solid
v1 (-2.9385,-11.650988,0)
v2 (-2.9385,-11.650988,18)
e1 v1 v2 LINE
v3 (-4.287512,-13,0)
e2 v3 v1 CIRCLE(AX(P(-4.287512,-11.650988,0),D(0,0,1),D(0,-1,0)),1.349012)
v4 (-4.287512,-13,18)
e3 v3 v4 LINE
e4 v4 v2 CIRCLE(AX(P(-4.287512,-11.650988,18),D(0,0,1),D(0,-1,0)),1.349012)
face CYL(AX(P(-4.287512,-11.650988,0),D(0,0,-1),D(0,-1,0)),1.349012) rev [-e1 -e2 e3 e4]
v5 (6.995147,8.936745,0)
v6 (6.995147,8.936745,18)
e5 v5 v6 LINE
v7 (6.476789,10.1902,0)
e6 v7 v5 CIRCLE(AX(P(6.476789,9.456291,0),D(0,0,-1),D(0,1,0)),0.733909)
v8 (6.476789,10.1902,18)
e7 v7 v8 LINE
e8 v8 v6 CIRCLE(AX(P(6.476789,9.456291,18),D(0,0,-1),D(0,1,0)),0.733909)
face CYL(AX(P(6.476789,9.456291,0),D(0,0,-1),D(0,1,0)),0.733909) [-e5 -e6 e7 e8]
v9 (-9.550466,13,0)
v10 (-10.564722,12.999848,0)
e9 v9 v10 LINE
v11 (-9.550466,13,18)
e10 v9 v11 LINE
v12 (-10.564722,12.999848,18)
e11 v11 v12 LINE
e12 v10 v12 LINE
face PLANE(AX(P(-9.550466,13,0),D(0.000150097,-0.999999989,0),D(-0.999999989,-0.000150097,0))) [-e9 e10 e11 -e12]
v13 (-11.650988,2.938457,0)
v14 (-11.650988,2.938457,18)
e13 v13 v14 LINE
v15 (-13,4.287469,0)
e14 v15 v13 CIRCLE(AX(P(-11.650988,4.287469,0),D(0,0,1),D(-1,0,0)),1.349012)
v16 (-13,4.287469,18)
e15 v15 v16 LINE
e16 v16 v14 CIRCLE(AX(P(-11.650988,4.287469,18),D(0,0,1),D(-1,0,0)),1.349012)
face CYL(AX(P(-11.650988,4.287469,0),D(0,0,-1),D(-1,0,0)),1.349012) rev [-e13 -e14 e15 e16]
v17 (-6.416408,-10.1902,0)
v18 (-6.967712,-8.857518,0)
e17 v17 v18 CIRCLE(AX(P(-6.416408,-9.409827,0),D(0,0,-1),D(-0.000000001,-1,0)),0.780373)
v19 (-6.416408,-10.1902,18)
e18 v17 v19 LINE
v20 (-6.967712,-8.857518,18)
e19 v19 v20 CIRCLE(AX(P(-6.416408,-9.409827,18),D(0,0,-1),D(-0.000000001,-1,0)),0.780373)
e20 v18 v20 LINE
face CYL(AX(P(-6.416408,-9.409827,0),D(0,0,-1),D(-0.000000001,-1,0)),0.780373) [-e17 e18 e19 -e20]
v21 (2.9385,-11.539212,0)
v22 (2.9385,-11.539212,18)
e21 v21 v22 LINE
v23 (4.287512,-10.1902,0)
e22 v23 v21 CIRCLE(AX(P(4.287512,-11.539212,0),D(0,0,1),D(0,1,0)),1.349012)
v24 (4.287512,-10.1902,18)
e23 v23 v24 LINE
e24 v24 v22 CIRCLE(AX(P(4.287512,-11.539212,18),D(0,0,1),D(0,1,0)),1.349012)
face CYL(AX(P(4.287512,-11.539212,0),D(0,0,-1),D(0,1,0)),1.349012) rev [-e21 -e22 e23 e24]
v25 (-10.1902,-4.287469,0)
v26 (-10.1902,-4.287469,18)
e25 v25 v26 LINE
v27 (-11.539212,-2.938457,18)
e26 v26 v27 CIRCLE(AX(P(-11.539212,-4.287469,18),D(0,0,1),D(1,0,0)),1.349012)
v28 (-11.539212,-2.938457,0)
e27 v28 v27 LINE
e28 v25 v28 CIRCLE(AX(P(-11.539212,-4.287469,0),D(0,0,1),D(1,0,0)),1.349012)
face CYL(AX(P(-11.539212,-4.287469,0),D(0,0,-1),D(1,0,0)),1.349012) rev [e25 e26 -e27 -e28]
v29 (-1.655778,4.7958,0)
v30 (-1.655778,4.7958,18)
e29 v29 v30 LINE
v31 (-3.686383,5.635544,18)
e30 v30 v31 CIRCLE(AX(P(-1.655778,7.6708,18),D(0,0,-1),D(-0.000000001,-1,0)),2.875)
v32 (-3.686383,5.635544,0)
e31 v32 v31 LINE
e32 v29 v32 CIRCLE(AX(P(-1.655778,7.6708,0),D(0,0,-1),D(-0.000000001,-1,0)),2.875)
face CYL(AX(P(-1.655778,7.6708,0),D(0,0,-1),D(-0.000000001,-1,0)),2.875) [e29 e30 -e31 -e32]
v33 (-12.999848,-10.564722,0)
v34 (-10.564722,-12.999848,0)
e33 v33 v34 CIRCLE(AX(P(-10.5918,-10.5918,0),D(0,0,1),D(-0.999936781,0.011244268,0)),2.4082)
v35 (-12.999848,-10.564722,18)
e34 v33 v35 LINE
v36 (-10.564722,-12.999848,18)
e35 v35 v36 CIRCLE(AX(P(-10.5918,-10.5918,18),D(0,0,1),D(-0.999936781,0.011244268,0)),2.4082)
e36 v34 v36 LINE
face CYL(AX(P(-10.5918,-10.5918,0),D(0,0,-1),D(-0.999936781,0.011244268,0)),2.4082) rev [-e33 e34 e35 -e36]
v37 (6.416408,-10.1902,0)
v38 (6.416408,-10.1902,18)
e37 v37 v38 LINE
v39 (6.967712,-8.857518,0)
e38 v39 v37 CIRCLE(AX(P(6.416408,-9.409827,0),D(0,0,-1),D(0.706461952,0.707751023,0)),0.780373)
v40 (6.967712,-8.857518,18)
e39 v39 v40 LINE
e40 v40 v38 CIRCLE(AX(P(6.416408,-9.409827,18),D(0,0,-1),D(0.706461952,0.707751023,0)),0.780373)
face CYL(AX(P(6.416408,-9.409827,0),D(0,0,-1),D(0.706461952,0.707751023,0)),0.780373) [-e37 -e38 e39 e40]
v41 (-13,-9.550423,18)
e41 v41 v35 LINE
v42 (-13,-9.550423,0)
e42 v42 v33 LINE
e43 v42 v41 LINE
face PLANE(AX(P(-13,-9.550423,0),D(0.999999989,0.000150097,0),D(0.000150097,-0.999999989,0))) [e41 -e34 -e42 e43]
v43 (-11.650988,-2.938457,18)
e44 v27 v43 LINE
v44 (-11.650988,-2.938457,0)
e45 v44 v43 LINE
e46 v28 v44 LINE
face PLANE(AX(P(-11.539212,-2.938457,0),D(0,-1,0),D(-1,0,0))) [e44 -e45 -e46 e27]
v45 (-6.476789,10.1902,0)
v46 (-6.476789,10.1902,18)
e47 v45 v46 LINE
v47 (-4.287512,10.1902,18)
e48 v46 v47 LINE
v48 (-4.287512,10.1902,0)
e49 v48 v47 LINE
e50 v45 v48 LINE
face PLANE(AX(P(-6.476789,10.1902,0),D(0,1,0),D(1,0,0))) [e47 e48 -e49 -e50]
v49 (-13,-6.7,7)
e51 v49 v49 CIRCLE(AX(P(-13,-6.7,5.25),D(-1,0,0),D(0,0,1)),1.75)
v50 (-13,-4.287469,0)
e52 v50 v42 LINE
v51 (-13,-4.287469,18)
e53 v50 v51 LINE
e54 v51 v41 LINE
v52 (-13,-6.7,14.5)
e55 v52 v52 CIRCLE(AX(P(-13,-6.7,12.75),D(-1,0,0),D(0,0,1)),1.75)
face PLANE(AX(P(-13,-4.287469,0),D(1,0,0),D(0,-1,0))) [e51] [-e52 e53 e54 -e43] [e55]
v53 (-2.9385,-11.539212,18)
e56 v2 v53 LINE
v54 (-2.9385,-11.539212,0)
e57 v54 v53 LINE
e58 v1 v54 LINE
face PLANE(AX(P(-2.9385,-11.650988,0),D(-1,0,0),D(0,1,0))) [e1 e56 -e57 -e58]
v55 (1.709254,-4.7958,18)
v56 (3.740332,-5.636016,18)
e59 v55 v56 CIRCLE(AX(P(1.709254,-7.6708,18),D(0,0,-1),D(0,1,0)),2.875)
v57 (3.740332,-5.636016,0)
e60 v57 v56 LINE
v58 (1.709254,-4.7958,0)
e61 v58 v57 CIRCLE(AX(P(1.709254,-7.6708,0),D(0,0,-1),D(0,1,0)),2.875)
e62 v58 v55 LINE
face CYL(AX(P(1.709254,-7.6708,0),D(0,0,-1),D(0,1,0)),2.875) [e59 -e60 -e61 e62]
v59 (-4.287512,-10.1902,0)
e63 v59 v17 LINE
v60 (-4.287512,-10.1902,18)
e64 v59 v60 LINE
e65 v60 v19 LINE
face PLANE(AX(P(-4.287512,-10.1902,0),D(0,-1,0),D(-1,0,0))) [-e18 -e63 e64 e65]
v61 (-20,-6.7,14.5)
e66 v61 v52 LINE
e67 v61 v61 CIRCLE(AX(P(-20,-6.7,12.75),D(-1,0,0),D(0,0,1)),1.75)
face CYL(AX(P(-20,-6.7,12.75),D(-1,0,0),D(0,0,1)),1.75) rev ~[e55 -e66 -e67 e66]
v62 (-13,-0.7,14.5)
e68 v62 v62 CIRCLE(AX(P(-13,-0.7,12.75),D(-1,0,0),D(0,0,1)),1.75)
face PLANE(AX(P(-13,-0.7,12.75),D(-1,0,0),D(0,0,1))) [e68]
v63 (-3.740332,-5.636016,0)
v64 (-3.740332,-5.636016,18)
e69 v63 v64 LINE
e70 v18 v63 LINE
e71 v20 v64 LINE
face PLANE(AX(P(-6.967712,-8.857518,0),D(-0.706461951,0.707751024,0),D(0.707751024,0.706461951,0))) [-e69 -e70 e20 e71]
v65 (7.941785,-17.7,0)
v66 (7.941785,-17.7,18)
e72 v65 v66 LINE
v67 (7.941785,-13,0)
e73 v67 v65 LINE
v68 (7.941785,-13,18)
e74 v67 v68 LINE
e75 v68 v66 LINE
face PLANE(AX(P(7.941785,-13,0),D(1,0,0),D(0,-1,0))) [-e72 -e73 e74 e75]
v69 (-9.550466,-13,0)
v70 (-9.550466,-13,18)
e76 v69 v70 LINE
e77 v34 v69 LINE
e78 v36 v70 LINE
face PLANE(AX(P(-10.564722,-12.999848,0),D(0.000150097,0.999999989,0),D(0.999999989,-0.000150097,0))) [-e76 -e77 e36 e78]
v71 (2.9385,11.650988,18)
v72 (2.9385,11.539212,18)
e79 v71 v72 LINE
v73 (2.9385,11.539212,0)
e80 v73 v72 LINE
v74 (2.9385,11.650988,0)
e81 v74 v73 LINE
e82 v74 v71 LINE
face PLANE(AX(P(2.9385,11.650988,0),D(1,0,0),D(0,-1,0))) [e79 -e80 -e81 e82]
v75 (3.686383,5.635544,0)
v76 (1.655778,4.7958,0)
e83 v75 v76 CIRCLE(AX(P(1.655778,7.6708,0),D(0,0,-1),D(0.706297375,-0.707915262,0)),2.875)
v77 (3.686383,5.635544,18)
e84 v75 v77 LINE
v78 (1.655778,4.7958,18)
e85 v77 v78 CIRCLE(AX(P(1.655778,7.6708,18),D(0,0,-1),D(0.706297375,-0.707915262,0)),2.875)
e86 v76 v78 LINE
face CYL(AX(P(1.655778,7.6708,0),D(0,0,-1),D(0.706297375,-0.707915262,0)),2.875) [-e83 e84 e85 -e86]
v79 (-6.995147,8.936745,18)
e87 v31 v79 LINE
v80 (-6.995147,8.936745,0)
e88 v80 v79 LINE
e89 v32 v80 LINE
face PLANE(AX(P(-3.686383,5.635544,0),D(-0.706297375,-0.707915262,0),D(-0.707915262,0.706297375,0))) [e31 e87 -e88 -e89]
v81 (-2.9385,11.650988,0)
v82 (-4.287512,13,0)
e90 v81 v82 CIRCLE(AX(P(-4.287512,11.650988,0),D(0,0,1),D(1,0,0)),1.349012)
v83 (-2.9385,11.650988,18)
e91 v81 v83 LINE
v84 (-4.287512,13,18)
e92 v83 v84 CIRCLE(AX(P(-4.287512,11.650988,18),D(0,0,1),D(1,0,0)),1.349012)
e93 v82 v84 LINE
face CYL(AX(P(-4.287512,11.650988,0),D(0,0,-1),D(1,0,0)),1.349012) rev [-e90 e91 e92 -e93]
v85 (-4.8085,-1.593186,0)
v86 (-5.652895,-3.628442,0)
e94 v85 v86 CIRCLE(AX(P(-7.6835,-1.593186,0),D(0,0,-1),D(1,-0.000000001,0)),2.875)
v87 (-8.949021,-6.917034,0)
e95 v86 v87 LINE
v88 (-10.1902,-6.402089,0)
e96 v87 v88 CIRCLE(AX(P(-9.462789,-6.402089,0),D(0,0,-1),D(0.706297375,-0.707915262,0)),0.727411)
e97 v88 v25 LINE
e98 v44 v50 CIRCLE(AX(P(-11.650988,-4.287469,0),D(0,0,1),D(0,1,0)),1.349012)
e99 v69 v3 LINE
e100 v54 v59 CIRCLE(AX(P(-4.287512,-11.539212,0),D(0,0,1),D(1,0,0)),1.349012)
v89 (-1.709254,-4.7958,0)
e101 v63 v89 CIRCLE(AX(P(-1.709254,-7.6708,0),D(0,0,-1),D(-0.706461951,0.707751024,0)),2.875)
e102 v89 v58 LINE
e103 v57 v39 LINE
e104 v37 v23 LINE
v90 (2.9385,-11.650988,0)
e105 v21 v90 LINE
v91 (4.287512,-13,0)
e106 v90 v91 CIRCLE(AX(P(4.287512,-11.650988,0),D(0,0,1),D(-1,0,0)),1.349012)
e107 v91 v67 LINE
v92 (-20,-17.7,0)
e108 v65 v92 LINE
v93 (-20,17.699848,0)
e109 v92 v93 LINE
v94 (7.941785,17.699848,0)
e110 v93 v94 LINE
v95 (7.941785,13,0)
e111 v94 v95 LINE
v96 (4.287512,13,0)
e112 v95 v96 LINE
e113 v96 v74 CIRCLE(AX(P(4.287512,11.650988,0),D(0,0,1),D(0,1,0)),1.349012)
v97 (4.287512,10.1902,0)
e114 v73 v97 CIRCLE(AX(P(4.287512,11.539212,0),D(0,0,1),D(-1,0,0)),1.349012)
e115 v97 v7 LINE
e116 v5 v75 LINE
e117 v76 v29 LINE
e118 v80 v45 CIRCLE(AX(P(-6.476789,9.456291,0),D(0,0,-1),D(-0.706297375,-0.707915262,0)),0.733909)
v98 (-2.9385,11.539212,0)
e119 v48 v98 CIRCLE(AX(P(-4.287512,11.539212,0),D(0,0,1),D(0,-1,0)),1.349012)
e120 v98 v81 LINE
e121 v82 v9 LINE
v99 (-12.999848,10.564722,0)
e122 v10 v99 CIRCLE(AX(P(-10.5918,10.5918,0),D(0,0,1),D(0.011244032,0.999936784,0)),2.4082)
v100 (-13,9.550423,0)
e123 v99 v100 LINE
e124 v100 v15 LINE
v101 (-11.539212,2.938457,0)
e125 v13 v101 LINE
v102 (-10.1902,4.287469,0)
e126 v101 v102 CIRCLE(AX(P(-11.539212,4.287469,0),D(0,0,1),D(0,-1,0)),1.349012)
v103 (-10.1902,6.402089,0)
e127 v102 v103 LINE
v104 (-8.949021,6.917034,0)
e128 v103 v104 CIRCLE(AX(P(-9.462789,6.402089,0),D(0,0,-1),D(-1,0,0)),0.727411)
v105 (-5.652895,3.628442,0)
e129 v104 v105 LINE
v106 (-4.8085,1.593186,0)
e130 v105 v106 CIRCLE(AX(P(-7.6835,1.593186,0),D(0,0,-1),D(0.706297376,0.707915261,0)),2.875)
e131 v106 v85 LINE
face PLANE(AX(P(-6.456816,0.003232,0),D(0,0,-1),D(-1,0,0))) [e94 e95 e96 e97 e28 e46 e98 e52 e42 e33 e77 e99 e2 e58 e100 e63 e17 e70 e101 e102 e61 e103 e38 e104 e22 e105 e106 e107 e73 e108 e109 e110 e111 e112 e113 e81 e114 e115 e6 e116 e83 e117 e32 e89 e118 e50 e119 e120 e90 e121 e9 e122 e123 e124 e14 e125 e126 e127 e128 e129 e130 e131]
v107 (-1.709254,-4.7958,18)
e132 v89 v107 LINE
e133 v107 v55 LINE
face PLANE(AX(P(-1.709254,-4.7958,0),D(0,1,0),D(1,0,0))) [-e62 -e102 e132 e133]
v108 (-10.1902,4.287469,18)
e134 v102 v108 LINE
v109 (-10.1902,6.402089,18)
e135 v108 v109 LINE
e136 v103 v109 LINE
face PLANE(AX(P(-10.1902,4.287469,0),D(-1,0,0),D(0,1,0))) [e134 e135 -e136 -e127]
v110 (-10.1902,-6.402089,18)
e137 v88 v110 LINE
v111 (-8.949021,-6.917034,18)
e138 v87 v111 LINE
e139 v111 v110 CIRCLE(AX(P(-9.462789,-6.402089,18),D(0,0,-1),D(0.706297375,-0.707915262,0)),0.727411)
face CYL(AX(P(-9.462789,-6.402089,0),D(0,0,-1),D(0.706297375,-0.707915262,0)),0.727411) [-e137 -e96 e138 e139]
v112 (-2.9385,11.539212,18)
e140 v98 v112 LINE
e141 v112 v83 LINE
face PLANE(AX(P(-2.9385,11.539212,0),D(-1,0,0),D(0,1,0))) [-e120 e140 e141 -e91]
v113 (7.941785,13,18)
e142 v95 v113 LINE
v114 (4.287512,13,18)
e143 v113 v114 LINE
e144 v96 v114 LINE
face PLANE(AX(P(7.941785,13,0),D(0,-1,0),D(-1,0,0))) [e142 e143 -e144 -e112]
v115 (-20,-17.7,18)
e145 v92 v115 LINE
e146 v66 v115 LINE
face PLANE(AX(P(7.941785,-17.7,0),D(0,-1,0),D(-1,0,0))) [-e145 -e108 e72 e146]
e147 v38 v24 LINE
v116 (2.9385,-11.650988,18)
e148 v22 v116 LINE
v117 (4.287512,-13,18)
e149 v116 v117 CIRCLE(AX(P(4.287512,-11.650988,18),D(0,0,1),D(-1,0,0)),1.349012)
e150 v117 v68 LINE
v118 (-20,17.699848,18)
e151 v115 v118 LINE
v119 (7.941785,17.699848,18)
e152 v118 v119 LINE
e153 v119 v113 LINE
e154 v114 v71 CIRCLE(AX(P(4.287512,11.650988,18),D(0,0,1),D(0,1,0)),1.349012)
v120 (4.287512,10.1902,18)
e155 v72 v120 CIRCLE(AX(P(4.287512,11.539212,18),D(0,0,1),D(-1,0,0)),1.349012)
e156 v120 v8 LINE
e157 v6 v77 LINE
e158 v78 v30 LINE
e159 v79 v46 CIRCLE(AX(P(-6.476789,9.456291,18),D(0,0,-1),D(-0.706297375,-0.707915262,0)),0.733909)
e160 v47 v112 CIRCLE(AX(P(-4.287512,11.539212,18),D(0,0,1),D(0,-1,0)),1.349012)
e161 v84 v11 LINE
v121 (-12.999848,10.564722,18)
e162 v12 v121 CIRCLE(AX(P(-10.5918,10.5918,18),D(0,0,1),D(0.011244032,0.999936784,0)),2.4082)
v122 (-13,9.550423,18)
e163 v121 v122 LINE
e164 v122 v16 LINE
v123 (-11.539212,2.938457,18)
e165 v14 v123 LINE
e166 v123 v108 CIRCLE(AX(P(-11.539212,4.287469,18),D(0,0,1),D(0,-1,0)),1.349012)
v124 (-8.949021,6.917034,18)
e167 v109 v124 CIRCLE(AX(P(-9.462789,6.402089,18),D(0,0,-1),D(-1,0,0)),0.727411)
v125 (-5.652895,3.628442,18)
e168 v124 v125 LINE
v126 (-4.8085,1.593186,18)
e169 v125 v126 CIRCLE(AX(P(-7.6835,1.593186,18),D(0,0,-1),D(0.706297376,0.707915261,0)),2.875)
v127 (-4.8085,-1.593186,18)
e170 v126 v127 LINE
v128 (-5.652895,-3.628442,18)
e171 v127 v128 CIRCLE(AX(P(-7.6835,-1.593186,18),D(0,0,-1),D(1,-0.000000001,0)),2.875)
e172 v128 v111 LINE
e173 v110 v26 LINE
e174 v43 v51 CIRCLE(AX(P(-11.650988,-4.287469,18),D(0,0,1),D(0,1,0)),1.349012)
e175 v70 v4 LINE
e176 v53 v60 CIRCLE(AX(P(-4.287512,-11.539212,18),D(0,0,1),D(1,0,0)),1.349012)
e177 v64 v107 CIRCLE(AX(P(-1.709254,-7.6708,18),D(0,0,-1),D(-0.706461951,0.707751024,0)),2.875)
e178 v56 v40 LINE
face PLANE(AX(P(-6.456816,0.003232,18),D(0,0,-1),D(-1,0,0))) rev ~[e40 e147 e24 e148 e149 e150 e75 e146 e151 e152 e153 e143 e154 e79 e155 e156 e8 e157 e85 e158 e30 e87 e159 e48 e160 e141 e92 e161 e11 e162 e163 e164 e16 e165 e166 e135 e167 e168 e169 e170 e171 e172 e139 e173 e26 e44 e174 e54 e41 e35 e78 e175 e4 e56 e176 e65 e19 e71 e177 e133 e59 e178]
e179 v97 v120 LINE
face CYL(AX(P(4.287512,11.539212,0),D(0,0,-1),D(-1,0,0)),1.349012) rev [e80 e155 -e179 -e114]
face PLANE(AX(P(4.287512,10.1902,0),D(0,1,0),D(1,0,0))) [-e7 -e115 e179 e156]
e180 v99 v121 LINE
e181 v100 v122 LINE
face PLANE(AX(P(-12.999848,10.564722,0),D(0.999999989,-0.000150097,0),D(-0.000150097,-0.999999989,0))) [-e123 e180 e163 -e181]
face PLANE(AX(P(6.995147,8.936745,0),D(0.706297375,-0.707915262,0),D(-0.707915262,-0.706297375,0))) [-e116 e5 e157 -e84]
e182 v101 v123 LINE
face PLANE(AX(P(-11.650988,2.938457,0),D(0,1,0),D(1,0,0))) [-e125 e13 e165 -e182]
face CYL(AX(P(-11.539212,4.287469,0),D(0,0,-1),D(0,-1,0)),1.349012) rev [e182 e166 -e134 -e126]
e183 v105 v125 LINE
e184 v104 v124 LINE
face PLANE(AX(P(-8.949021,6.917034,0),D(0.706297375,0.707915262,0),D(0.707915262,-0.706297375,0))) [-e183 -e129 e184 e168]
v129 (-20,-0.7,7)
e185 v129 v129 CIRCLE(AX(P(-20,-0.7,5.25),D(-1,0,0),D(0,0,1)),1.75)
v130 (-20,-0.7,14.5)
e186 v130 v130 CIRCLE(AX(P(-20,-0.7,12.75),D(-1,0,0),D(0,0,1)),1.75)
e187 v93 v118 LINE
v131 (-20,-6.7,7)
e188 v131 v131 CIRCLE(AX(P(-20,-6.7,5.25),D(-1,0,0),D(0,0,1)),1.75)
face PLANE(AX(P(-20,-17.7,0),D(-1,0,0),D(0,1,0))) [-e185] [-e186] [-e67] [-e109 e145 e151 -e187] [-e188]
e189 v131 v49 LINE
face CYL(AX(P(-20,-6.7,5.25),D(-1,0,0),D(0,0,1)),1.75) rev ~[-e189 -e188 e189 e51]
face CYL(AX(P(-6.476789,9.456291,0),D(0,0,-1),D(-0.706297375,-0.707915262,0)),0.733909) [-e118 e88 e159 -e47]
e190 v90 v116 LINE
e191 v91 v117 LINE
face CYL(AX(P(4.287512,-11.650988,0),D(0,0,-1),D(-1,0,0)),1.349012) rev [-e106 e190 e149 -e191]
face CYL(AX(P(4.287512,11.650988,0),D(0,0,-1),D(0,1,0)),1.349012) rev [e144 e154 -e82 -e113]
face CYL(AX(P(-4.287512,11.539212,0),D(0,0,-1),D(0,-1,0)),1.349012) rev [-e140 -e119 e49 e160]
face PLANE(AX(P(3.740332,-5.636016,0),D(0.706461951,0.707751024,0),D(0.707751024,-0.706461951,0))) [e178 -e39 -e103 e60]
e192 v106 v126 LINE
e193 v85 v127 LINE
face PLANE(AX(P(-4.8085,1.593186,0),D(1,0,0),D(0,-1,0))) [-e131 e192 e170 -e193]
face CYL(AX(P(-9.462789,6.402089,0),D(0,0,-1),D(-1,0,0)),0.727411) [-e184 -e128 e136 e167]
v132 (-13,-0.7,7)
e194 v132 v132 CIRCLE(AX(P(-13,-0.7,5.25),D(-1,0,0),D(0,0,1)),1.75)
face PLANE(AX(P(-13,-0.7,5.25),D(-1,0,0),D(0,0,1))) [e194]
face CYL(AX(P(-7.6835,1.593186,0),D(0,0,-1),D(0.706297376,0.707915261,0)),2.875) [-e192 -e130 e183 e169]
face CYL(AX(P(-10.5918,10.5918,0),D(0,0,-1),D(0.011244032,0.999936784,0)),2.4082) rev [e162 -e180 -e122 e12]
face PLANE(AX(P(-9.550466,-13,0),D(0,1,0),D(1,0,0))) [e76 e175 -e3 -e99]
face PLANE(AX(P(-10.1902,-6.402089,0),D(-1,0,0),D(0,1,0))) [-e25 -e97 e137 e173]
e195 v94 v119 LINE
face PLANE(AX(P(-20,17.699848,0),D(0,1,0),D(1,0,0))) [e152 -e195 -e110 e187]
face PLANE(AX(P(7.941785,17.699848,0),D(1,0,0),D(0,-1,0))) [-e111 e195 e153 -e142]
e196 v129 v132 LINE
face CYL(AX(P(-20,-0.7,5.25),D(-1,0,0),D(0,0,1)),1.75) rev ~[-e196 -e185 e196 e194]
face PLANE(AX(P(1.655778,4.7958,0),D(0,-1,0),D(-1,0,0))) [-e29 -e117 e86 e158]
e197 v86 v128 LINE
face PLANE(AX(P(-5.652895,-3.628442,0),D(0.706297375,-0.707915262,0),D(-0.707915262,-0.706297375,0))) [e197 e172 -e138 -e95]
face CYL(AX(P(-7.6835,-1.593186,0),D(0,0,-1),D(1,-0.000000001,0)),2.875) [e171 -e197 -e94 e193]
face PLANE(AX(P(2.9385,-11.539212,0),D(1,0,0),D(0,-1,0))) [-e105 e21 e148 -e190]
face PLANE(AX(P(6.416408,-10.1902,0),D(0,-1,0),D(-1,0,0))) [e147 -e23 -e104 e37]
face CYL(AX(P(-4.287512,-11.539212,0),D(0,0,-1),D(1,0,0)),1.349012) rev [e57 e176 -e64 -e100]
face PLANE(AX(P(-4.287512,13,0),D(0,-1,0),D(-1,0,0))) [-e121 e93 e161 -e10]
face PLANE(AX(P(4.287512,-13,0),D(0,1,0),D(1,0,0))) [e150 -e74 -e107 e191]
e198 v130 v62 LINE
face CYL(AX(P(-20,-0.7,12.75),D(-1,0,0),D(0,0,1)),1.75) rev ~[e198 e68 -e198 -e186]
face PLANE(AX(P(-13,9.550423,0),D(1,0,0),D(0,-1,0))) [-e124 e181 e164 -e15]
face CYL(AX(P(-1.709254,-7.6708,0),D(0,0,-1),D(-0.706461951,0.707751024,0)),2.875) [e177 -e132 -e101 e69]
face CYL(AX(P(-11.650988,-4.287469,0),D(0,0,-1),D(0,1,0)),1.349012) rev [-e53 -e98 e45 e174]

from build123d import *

# Parameters (mm, degrees)
BOSS_EXTRUDE1_DEPTH = 18
SKETCH2_R           = 1.75
CUT_EXTRUDE1_DEPTH  = 7


with BuildPart() as part:
    # Sketch1 → Boss-Extrude1 (new body)
    with BuildSketch(Plane.XY):
        with BuildLine():
            Line((7.941784918, -13), (7.941784918, -17.7))
            Line((7.941784918, -17.7), (-20, -17.7))
            Line((-20, -17.7), (-20, 17.699847501))
            Line((-20, 17.699847501), (7.941784918, 17.699847501))
            Line((7.941784918, 17.699847501), (7.941784918, 13))
            Line((7.941784918, 13), (6.333126718, 13))
            Line((6.333126718, 13), (5.317126718, 13))
            Line((5.317126718, 13), (4.287512407, 13))
            ThreePointArc((4.287512407, 13), (3.333616586, 12.604883414), (2.9385, 11.650987593))
            Line((2.9385, 11.650987593), (2.9385, 11.539212407))
            ThreePointArc((2.9385, 11.539212407), (3.333616586, 10.585316586), (4.287512407, 10.1902))
            Line((4.287512407, 10.1902), (6.476788598, 10.1902))
            ThreePointArc((6.476788598, 10.1902), (7.154992901, 9.736757749), (6.995146796, 8.93674514))
            Line((6.995146796, 8.93674514), (3.686383353, 5.635543623))
            ThreePointArc((3.686383353, 5.635543623), (2.754473742, 5.014017446), (1.655778399, 4.7958))
            Line((1.655778399, 4.7958), (-1.655778399, 4.7958))
            ThreePointArc((-1.655778399, 4.7958), (-2.754473742, 5.014017446), (-3.686383353, 5.635543623))
            Line((-3.686383353, 5.635543623), (-6.995146796, 8.93674514))
            ThreePointArc((-6.995146796, 8.93674514), (-7.154992901, 9.736757749), (-6.476788598, 10.1902))
            Line((-6.476788598, 10.1902), (-4.287512407, 10.1902))
            ThreePointArc((-4.287512407, 10.1902), (-3.333616586, 10.585316586), (-2.9385, 11.539212407))
            Line((-2.9385, 11.539212407), (-2.9385, 11.650987593))
            ThreePointArc((-2.9385, 11.650987593), (-3.333616586, 12.604883414), (-4.287512407, 13))
            Line((-4.287512407, 13), (-5.317126718, 13))
            Line((-5.317126718, 13), (-6.333126718, 13))
            Line((-6.333126718, 13), (-9.550465633, 13))
            Line((-9.550465633, 13), (-10.564722121, 12.999847763))
            ThreePointArc((-10.564722121, 12.999847763), (-12.294654751, 12.29465435), (-12.999847757, 10.564721553))
            Line((-12.999847757, 10.564721553), (-13, 9.550422515))
            Line((-13, 9.550422515), (-13, 5.3170836))
            Line((-13, 5.3170836), (-13, 4.287469289))
            ThreePointArc((-13, 4.287469289), (-12.604883414, 3.333573468), (-11.650987593, 2.938456882))
            Line((-11.650987593, 2.938456882), (-11.539212407, 2.938456882))
            ThreePointArc((-11.539212407, 2.938456882), (-10.585316586, 3.333573468), (-10.1902, 4.287469289))
            Line((-10.1902, 4.287469289), (-10.1902, 6.402089023))
            ThreePointArc((-10.1902, 6.402089023), (-9.74154152, 7.073969797), (-8.94902056, 6.917034355))
            Line((-8.94902056, 6.917034355), (-5.652895046, 3.628441884))
            ThreePointArc((-5.652895046, 3.628441884), (-5.027976112, 2.694919539), (-4.8085, 1.593185507))
            Line((-4.8085, 1.593185507), (-4.8085, -1.593185507))
            ThreePointArc((-4.8085, -1.593185507), (-5.027976112, -2.694919539), (-5.652895046, -3.628441884))
            Line((-5.652895046, -3.628441884), (-8.94902056, -6.917034355))
            ThreePointArc((-8.94902056, -6.917034355), (-9.74154152, -7.073969797), (-10.1902, -6.402089023))
            Line((-10.1902, -6.402089023), (-10.1902, -4.287469289))
            ThreePointArc((-10.1902, -4.287469289), (-10.585316586, -3.333573468), (-11.539212407, -2.938456882))
            Line((-11.539212407, -2.938456882), (-11.650987593, -2.938456882))
            ThreePointArc((-11.650987593, -2.938456882), (-12.604883414, -3.333573468), (-13, -4.287469289))
            Line((-13, -4.287469289), (-13, -5.3170836))
            Line((-13, -5.3170836), (-13, -6.3330836))
            Line((-13, -6.3330836), (-13, -9.550422515))
            Line((-13, -9.550422515), (-12.999847757, -10.564721553))
            ThreePointArc((-12.999847757, -10.564721553), (-12.294654751, -12.29465435), (-10.564722121, -12.999847763))
            Line((-10.564722121, -12.999847763), (-9.550465633, -13))
            Line((-9.550465633, -13), (-6.333126718, -13))
            Line((-6.333126718, -13), (-5.317126718, -13))
            Line((-5.317126718, -13), (-4.287512407, -13))
            ThreePointArc((-4.287512407, -13), (-3.333616586, -12.604883414), (-2.9385, -11.650987593))
            Line((-2.9385, -11.650987593), (-2.9385, -11.539212407))
            ThreePointArc((-2.9385, -11.539212407), (-3.333616586, -10.585316586), (-4.287512407, -10.1902))
            Line((-4.287512407, -10.1902), (-6.416408329, -10.1902))
            ThreePointArc((-6.416408329, -10.1902), (-7.137514675, -9.708134418), (-6.967711912, -8.857517813))
            Line((-6.967711912, -8.857517813), (-3.740331666, -5.636015806))
            ThreePointArc((-3.740331666, -5.636015806), (-2.808257752, -5.01414519), (-1.709253557, -4.7958))
            Line((-1.709253557, -4.7958), (1.709253557, -4.7958))
            ThreePointArc((1.709253557, -4.7958), (2.808257752, -5.01414519), (3.740331666, -5.636015806))
            Line((3.740331666, -5.636015806), (6.967711912, -8.857517813))
            ThreePointArc((6.967711912, -8.857517813), (7.137514675, -9.708134418), (6.416408329, -10.1902))
            Line((6.416408329, -10.1902), (4.287512407, -10.1902))
            ThreePointArc((4.287512407, -10.1902), (3.333616586, -10.585316586), (2.9385, -11.539212407))
            Line((2.9385, -11.539212407), (2.9385, -11.650987593))
            ThreePointArc((2.9385, -11.650987593), (3.333616586, -12.604883414), (4.287512407, -13))
            Line((4.287512407, -13), (5.317126718, -13))
            Line((5.317126718, -13), (6.333126718, -13))
            Line((6.333126718, -13), (7.941784918, -13))
        make_face()
    extrude(amount=BOSS_EXTRUDE1_DEPTH)

    # Sketch2 → Cut-Extrude1 (cut)
    with BuildSketch(Plane.ZY.offset(20)):
        with Locations((5.25, -0.7)):
            Circle(SKETCH2_R)
        with Locations((12.75, -0.7)):
            Circle(SKETCH2_R)
        with Locations((5.25, -6.7)):
            Circle(SKETCH2_R)
        with Locations((12.75, -6.7)):
            Circle(SKETCH2_R)
    extrude(amount=-CUT_EXTRUDE1_DEPTH, mode=Mode.SUBTRACT)


solid = part.part
